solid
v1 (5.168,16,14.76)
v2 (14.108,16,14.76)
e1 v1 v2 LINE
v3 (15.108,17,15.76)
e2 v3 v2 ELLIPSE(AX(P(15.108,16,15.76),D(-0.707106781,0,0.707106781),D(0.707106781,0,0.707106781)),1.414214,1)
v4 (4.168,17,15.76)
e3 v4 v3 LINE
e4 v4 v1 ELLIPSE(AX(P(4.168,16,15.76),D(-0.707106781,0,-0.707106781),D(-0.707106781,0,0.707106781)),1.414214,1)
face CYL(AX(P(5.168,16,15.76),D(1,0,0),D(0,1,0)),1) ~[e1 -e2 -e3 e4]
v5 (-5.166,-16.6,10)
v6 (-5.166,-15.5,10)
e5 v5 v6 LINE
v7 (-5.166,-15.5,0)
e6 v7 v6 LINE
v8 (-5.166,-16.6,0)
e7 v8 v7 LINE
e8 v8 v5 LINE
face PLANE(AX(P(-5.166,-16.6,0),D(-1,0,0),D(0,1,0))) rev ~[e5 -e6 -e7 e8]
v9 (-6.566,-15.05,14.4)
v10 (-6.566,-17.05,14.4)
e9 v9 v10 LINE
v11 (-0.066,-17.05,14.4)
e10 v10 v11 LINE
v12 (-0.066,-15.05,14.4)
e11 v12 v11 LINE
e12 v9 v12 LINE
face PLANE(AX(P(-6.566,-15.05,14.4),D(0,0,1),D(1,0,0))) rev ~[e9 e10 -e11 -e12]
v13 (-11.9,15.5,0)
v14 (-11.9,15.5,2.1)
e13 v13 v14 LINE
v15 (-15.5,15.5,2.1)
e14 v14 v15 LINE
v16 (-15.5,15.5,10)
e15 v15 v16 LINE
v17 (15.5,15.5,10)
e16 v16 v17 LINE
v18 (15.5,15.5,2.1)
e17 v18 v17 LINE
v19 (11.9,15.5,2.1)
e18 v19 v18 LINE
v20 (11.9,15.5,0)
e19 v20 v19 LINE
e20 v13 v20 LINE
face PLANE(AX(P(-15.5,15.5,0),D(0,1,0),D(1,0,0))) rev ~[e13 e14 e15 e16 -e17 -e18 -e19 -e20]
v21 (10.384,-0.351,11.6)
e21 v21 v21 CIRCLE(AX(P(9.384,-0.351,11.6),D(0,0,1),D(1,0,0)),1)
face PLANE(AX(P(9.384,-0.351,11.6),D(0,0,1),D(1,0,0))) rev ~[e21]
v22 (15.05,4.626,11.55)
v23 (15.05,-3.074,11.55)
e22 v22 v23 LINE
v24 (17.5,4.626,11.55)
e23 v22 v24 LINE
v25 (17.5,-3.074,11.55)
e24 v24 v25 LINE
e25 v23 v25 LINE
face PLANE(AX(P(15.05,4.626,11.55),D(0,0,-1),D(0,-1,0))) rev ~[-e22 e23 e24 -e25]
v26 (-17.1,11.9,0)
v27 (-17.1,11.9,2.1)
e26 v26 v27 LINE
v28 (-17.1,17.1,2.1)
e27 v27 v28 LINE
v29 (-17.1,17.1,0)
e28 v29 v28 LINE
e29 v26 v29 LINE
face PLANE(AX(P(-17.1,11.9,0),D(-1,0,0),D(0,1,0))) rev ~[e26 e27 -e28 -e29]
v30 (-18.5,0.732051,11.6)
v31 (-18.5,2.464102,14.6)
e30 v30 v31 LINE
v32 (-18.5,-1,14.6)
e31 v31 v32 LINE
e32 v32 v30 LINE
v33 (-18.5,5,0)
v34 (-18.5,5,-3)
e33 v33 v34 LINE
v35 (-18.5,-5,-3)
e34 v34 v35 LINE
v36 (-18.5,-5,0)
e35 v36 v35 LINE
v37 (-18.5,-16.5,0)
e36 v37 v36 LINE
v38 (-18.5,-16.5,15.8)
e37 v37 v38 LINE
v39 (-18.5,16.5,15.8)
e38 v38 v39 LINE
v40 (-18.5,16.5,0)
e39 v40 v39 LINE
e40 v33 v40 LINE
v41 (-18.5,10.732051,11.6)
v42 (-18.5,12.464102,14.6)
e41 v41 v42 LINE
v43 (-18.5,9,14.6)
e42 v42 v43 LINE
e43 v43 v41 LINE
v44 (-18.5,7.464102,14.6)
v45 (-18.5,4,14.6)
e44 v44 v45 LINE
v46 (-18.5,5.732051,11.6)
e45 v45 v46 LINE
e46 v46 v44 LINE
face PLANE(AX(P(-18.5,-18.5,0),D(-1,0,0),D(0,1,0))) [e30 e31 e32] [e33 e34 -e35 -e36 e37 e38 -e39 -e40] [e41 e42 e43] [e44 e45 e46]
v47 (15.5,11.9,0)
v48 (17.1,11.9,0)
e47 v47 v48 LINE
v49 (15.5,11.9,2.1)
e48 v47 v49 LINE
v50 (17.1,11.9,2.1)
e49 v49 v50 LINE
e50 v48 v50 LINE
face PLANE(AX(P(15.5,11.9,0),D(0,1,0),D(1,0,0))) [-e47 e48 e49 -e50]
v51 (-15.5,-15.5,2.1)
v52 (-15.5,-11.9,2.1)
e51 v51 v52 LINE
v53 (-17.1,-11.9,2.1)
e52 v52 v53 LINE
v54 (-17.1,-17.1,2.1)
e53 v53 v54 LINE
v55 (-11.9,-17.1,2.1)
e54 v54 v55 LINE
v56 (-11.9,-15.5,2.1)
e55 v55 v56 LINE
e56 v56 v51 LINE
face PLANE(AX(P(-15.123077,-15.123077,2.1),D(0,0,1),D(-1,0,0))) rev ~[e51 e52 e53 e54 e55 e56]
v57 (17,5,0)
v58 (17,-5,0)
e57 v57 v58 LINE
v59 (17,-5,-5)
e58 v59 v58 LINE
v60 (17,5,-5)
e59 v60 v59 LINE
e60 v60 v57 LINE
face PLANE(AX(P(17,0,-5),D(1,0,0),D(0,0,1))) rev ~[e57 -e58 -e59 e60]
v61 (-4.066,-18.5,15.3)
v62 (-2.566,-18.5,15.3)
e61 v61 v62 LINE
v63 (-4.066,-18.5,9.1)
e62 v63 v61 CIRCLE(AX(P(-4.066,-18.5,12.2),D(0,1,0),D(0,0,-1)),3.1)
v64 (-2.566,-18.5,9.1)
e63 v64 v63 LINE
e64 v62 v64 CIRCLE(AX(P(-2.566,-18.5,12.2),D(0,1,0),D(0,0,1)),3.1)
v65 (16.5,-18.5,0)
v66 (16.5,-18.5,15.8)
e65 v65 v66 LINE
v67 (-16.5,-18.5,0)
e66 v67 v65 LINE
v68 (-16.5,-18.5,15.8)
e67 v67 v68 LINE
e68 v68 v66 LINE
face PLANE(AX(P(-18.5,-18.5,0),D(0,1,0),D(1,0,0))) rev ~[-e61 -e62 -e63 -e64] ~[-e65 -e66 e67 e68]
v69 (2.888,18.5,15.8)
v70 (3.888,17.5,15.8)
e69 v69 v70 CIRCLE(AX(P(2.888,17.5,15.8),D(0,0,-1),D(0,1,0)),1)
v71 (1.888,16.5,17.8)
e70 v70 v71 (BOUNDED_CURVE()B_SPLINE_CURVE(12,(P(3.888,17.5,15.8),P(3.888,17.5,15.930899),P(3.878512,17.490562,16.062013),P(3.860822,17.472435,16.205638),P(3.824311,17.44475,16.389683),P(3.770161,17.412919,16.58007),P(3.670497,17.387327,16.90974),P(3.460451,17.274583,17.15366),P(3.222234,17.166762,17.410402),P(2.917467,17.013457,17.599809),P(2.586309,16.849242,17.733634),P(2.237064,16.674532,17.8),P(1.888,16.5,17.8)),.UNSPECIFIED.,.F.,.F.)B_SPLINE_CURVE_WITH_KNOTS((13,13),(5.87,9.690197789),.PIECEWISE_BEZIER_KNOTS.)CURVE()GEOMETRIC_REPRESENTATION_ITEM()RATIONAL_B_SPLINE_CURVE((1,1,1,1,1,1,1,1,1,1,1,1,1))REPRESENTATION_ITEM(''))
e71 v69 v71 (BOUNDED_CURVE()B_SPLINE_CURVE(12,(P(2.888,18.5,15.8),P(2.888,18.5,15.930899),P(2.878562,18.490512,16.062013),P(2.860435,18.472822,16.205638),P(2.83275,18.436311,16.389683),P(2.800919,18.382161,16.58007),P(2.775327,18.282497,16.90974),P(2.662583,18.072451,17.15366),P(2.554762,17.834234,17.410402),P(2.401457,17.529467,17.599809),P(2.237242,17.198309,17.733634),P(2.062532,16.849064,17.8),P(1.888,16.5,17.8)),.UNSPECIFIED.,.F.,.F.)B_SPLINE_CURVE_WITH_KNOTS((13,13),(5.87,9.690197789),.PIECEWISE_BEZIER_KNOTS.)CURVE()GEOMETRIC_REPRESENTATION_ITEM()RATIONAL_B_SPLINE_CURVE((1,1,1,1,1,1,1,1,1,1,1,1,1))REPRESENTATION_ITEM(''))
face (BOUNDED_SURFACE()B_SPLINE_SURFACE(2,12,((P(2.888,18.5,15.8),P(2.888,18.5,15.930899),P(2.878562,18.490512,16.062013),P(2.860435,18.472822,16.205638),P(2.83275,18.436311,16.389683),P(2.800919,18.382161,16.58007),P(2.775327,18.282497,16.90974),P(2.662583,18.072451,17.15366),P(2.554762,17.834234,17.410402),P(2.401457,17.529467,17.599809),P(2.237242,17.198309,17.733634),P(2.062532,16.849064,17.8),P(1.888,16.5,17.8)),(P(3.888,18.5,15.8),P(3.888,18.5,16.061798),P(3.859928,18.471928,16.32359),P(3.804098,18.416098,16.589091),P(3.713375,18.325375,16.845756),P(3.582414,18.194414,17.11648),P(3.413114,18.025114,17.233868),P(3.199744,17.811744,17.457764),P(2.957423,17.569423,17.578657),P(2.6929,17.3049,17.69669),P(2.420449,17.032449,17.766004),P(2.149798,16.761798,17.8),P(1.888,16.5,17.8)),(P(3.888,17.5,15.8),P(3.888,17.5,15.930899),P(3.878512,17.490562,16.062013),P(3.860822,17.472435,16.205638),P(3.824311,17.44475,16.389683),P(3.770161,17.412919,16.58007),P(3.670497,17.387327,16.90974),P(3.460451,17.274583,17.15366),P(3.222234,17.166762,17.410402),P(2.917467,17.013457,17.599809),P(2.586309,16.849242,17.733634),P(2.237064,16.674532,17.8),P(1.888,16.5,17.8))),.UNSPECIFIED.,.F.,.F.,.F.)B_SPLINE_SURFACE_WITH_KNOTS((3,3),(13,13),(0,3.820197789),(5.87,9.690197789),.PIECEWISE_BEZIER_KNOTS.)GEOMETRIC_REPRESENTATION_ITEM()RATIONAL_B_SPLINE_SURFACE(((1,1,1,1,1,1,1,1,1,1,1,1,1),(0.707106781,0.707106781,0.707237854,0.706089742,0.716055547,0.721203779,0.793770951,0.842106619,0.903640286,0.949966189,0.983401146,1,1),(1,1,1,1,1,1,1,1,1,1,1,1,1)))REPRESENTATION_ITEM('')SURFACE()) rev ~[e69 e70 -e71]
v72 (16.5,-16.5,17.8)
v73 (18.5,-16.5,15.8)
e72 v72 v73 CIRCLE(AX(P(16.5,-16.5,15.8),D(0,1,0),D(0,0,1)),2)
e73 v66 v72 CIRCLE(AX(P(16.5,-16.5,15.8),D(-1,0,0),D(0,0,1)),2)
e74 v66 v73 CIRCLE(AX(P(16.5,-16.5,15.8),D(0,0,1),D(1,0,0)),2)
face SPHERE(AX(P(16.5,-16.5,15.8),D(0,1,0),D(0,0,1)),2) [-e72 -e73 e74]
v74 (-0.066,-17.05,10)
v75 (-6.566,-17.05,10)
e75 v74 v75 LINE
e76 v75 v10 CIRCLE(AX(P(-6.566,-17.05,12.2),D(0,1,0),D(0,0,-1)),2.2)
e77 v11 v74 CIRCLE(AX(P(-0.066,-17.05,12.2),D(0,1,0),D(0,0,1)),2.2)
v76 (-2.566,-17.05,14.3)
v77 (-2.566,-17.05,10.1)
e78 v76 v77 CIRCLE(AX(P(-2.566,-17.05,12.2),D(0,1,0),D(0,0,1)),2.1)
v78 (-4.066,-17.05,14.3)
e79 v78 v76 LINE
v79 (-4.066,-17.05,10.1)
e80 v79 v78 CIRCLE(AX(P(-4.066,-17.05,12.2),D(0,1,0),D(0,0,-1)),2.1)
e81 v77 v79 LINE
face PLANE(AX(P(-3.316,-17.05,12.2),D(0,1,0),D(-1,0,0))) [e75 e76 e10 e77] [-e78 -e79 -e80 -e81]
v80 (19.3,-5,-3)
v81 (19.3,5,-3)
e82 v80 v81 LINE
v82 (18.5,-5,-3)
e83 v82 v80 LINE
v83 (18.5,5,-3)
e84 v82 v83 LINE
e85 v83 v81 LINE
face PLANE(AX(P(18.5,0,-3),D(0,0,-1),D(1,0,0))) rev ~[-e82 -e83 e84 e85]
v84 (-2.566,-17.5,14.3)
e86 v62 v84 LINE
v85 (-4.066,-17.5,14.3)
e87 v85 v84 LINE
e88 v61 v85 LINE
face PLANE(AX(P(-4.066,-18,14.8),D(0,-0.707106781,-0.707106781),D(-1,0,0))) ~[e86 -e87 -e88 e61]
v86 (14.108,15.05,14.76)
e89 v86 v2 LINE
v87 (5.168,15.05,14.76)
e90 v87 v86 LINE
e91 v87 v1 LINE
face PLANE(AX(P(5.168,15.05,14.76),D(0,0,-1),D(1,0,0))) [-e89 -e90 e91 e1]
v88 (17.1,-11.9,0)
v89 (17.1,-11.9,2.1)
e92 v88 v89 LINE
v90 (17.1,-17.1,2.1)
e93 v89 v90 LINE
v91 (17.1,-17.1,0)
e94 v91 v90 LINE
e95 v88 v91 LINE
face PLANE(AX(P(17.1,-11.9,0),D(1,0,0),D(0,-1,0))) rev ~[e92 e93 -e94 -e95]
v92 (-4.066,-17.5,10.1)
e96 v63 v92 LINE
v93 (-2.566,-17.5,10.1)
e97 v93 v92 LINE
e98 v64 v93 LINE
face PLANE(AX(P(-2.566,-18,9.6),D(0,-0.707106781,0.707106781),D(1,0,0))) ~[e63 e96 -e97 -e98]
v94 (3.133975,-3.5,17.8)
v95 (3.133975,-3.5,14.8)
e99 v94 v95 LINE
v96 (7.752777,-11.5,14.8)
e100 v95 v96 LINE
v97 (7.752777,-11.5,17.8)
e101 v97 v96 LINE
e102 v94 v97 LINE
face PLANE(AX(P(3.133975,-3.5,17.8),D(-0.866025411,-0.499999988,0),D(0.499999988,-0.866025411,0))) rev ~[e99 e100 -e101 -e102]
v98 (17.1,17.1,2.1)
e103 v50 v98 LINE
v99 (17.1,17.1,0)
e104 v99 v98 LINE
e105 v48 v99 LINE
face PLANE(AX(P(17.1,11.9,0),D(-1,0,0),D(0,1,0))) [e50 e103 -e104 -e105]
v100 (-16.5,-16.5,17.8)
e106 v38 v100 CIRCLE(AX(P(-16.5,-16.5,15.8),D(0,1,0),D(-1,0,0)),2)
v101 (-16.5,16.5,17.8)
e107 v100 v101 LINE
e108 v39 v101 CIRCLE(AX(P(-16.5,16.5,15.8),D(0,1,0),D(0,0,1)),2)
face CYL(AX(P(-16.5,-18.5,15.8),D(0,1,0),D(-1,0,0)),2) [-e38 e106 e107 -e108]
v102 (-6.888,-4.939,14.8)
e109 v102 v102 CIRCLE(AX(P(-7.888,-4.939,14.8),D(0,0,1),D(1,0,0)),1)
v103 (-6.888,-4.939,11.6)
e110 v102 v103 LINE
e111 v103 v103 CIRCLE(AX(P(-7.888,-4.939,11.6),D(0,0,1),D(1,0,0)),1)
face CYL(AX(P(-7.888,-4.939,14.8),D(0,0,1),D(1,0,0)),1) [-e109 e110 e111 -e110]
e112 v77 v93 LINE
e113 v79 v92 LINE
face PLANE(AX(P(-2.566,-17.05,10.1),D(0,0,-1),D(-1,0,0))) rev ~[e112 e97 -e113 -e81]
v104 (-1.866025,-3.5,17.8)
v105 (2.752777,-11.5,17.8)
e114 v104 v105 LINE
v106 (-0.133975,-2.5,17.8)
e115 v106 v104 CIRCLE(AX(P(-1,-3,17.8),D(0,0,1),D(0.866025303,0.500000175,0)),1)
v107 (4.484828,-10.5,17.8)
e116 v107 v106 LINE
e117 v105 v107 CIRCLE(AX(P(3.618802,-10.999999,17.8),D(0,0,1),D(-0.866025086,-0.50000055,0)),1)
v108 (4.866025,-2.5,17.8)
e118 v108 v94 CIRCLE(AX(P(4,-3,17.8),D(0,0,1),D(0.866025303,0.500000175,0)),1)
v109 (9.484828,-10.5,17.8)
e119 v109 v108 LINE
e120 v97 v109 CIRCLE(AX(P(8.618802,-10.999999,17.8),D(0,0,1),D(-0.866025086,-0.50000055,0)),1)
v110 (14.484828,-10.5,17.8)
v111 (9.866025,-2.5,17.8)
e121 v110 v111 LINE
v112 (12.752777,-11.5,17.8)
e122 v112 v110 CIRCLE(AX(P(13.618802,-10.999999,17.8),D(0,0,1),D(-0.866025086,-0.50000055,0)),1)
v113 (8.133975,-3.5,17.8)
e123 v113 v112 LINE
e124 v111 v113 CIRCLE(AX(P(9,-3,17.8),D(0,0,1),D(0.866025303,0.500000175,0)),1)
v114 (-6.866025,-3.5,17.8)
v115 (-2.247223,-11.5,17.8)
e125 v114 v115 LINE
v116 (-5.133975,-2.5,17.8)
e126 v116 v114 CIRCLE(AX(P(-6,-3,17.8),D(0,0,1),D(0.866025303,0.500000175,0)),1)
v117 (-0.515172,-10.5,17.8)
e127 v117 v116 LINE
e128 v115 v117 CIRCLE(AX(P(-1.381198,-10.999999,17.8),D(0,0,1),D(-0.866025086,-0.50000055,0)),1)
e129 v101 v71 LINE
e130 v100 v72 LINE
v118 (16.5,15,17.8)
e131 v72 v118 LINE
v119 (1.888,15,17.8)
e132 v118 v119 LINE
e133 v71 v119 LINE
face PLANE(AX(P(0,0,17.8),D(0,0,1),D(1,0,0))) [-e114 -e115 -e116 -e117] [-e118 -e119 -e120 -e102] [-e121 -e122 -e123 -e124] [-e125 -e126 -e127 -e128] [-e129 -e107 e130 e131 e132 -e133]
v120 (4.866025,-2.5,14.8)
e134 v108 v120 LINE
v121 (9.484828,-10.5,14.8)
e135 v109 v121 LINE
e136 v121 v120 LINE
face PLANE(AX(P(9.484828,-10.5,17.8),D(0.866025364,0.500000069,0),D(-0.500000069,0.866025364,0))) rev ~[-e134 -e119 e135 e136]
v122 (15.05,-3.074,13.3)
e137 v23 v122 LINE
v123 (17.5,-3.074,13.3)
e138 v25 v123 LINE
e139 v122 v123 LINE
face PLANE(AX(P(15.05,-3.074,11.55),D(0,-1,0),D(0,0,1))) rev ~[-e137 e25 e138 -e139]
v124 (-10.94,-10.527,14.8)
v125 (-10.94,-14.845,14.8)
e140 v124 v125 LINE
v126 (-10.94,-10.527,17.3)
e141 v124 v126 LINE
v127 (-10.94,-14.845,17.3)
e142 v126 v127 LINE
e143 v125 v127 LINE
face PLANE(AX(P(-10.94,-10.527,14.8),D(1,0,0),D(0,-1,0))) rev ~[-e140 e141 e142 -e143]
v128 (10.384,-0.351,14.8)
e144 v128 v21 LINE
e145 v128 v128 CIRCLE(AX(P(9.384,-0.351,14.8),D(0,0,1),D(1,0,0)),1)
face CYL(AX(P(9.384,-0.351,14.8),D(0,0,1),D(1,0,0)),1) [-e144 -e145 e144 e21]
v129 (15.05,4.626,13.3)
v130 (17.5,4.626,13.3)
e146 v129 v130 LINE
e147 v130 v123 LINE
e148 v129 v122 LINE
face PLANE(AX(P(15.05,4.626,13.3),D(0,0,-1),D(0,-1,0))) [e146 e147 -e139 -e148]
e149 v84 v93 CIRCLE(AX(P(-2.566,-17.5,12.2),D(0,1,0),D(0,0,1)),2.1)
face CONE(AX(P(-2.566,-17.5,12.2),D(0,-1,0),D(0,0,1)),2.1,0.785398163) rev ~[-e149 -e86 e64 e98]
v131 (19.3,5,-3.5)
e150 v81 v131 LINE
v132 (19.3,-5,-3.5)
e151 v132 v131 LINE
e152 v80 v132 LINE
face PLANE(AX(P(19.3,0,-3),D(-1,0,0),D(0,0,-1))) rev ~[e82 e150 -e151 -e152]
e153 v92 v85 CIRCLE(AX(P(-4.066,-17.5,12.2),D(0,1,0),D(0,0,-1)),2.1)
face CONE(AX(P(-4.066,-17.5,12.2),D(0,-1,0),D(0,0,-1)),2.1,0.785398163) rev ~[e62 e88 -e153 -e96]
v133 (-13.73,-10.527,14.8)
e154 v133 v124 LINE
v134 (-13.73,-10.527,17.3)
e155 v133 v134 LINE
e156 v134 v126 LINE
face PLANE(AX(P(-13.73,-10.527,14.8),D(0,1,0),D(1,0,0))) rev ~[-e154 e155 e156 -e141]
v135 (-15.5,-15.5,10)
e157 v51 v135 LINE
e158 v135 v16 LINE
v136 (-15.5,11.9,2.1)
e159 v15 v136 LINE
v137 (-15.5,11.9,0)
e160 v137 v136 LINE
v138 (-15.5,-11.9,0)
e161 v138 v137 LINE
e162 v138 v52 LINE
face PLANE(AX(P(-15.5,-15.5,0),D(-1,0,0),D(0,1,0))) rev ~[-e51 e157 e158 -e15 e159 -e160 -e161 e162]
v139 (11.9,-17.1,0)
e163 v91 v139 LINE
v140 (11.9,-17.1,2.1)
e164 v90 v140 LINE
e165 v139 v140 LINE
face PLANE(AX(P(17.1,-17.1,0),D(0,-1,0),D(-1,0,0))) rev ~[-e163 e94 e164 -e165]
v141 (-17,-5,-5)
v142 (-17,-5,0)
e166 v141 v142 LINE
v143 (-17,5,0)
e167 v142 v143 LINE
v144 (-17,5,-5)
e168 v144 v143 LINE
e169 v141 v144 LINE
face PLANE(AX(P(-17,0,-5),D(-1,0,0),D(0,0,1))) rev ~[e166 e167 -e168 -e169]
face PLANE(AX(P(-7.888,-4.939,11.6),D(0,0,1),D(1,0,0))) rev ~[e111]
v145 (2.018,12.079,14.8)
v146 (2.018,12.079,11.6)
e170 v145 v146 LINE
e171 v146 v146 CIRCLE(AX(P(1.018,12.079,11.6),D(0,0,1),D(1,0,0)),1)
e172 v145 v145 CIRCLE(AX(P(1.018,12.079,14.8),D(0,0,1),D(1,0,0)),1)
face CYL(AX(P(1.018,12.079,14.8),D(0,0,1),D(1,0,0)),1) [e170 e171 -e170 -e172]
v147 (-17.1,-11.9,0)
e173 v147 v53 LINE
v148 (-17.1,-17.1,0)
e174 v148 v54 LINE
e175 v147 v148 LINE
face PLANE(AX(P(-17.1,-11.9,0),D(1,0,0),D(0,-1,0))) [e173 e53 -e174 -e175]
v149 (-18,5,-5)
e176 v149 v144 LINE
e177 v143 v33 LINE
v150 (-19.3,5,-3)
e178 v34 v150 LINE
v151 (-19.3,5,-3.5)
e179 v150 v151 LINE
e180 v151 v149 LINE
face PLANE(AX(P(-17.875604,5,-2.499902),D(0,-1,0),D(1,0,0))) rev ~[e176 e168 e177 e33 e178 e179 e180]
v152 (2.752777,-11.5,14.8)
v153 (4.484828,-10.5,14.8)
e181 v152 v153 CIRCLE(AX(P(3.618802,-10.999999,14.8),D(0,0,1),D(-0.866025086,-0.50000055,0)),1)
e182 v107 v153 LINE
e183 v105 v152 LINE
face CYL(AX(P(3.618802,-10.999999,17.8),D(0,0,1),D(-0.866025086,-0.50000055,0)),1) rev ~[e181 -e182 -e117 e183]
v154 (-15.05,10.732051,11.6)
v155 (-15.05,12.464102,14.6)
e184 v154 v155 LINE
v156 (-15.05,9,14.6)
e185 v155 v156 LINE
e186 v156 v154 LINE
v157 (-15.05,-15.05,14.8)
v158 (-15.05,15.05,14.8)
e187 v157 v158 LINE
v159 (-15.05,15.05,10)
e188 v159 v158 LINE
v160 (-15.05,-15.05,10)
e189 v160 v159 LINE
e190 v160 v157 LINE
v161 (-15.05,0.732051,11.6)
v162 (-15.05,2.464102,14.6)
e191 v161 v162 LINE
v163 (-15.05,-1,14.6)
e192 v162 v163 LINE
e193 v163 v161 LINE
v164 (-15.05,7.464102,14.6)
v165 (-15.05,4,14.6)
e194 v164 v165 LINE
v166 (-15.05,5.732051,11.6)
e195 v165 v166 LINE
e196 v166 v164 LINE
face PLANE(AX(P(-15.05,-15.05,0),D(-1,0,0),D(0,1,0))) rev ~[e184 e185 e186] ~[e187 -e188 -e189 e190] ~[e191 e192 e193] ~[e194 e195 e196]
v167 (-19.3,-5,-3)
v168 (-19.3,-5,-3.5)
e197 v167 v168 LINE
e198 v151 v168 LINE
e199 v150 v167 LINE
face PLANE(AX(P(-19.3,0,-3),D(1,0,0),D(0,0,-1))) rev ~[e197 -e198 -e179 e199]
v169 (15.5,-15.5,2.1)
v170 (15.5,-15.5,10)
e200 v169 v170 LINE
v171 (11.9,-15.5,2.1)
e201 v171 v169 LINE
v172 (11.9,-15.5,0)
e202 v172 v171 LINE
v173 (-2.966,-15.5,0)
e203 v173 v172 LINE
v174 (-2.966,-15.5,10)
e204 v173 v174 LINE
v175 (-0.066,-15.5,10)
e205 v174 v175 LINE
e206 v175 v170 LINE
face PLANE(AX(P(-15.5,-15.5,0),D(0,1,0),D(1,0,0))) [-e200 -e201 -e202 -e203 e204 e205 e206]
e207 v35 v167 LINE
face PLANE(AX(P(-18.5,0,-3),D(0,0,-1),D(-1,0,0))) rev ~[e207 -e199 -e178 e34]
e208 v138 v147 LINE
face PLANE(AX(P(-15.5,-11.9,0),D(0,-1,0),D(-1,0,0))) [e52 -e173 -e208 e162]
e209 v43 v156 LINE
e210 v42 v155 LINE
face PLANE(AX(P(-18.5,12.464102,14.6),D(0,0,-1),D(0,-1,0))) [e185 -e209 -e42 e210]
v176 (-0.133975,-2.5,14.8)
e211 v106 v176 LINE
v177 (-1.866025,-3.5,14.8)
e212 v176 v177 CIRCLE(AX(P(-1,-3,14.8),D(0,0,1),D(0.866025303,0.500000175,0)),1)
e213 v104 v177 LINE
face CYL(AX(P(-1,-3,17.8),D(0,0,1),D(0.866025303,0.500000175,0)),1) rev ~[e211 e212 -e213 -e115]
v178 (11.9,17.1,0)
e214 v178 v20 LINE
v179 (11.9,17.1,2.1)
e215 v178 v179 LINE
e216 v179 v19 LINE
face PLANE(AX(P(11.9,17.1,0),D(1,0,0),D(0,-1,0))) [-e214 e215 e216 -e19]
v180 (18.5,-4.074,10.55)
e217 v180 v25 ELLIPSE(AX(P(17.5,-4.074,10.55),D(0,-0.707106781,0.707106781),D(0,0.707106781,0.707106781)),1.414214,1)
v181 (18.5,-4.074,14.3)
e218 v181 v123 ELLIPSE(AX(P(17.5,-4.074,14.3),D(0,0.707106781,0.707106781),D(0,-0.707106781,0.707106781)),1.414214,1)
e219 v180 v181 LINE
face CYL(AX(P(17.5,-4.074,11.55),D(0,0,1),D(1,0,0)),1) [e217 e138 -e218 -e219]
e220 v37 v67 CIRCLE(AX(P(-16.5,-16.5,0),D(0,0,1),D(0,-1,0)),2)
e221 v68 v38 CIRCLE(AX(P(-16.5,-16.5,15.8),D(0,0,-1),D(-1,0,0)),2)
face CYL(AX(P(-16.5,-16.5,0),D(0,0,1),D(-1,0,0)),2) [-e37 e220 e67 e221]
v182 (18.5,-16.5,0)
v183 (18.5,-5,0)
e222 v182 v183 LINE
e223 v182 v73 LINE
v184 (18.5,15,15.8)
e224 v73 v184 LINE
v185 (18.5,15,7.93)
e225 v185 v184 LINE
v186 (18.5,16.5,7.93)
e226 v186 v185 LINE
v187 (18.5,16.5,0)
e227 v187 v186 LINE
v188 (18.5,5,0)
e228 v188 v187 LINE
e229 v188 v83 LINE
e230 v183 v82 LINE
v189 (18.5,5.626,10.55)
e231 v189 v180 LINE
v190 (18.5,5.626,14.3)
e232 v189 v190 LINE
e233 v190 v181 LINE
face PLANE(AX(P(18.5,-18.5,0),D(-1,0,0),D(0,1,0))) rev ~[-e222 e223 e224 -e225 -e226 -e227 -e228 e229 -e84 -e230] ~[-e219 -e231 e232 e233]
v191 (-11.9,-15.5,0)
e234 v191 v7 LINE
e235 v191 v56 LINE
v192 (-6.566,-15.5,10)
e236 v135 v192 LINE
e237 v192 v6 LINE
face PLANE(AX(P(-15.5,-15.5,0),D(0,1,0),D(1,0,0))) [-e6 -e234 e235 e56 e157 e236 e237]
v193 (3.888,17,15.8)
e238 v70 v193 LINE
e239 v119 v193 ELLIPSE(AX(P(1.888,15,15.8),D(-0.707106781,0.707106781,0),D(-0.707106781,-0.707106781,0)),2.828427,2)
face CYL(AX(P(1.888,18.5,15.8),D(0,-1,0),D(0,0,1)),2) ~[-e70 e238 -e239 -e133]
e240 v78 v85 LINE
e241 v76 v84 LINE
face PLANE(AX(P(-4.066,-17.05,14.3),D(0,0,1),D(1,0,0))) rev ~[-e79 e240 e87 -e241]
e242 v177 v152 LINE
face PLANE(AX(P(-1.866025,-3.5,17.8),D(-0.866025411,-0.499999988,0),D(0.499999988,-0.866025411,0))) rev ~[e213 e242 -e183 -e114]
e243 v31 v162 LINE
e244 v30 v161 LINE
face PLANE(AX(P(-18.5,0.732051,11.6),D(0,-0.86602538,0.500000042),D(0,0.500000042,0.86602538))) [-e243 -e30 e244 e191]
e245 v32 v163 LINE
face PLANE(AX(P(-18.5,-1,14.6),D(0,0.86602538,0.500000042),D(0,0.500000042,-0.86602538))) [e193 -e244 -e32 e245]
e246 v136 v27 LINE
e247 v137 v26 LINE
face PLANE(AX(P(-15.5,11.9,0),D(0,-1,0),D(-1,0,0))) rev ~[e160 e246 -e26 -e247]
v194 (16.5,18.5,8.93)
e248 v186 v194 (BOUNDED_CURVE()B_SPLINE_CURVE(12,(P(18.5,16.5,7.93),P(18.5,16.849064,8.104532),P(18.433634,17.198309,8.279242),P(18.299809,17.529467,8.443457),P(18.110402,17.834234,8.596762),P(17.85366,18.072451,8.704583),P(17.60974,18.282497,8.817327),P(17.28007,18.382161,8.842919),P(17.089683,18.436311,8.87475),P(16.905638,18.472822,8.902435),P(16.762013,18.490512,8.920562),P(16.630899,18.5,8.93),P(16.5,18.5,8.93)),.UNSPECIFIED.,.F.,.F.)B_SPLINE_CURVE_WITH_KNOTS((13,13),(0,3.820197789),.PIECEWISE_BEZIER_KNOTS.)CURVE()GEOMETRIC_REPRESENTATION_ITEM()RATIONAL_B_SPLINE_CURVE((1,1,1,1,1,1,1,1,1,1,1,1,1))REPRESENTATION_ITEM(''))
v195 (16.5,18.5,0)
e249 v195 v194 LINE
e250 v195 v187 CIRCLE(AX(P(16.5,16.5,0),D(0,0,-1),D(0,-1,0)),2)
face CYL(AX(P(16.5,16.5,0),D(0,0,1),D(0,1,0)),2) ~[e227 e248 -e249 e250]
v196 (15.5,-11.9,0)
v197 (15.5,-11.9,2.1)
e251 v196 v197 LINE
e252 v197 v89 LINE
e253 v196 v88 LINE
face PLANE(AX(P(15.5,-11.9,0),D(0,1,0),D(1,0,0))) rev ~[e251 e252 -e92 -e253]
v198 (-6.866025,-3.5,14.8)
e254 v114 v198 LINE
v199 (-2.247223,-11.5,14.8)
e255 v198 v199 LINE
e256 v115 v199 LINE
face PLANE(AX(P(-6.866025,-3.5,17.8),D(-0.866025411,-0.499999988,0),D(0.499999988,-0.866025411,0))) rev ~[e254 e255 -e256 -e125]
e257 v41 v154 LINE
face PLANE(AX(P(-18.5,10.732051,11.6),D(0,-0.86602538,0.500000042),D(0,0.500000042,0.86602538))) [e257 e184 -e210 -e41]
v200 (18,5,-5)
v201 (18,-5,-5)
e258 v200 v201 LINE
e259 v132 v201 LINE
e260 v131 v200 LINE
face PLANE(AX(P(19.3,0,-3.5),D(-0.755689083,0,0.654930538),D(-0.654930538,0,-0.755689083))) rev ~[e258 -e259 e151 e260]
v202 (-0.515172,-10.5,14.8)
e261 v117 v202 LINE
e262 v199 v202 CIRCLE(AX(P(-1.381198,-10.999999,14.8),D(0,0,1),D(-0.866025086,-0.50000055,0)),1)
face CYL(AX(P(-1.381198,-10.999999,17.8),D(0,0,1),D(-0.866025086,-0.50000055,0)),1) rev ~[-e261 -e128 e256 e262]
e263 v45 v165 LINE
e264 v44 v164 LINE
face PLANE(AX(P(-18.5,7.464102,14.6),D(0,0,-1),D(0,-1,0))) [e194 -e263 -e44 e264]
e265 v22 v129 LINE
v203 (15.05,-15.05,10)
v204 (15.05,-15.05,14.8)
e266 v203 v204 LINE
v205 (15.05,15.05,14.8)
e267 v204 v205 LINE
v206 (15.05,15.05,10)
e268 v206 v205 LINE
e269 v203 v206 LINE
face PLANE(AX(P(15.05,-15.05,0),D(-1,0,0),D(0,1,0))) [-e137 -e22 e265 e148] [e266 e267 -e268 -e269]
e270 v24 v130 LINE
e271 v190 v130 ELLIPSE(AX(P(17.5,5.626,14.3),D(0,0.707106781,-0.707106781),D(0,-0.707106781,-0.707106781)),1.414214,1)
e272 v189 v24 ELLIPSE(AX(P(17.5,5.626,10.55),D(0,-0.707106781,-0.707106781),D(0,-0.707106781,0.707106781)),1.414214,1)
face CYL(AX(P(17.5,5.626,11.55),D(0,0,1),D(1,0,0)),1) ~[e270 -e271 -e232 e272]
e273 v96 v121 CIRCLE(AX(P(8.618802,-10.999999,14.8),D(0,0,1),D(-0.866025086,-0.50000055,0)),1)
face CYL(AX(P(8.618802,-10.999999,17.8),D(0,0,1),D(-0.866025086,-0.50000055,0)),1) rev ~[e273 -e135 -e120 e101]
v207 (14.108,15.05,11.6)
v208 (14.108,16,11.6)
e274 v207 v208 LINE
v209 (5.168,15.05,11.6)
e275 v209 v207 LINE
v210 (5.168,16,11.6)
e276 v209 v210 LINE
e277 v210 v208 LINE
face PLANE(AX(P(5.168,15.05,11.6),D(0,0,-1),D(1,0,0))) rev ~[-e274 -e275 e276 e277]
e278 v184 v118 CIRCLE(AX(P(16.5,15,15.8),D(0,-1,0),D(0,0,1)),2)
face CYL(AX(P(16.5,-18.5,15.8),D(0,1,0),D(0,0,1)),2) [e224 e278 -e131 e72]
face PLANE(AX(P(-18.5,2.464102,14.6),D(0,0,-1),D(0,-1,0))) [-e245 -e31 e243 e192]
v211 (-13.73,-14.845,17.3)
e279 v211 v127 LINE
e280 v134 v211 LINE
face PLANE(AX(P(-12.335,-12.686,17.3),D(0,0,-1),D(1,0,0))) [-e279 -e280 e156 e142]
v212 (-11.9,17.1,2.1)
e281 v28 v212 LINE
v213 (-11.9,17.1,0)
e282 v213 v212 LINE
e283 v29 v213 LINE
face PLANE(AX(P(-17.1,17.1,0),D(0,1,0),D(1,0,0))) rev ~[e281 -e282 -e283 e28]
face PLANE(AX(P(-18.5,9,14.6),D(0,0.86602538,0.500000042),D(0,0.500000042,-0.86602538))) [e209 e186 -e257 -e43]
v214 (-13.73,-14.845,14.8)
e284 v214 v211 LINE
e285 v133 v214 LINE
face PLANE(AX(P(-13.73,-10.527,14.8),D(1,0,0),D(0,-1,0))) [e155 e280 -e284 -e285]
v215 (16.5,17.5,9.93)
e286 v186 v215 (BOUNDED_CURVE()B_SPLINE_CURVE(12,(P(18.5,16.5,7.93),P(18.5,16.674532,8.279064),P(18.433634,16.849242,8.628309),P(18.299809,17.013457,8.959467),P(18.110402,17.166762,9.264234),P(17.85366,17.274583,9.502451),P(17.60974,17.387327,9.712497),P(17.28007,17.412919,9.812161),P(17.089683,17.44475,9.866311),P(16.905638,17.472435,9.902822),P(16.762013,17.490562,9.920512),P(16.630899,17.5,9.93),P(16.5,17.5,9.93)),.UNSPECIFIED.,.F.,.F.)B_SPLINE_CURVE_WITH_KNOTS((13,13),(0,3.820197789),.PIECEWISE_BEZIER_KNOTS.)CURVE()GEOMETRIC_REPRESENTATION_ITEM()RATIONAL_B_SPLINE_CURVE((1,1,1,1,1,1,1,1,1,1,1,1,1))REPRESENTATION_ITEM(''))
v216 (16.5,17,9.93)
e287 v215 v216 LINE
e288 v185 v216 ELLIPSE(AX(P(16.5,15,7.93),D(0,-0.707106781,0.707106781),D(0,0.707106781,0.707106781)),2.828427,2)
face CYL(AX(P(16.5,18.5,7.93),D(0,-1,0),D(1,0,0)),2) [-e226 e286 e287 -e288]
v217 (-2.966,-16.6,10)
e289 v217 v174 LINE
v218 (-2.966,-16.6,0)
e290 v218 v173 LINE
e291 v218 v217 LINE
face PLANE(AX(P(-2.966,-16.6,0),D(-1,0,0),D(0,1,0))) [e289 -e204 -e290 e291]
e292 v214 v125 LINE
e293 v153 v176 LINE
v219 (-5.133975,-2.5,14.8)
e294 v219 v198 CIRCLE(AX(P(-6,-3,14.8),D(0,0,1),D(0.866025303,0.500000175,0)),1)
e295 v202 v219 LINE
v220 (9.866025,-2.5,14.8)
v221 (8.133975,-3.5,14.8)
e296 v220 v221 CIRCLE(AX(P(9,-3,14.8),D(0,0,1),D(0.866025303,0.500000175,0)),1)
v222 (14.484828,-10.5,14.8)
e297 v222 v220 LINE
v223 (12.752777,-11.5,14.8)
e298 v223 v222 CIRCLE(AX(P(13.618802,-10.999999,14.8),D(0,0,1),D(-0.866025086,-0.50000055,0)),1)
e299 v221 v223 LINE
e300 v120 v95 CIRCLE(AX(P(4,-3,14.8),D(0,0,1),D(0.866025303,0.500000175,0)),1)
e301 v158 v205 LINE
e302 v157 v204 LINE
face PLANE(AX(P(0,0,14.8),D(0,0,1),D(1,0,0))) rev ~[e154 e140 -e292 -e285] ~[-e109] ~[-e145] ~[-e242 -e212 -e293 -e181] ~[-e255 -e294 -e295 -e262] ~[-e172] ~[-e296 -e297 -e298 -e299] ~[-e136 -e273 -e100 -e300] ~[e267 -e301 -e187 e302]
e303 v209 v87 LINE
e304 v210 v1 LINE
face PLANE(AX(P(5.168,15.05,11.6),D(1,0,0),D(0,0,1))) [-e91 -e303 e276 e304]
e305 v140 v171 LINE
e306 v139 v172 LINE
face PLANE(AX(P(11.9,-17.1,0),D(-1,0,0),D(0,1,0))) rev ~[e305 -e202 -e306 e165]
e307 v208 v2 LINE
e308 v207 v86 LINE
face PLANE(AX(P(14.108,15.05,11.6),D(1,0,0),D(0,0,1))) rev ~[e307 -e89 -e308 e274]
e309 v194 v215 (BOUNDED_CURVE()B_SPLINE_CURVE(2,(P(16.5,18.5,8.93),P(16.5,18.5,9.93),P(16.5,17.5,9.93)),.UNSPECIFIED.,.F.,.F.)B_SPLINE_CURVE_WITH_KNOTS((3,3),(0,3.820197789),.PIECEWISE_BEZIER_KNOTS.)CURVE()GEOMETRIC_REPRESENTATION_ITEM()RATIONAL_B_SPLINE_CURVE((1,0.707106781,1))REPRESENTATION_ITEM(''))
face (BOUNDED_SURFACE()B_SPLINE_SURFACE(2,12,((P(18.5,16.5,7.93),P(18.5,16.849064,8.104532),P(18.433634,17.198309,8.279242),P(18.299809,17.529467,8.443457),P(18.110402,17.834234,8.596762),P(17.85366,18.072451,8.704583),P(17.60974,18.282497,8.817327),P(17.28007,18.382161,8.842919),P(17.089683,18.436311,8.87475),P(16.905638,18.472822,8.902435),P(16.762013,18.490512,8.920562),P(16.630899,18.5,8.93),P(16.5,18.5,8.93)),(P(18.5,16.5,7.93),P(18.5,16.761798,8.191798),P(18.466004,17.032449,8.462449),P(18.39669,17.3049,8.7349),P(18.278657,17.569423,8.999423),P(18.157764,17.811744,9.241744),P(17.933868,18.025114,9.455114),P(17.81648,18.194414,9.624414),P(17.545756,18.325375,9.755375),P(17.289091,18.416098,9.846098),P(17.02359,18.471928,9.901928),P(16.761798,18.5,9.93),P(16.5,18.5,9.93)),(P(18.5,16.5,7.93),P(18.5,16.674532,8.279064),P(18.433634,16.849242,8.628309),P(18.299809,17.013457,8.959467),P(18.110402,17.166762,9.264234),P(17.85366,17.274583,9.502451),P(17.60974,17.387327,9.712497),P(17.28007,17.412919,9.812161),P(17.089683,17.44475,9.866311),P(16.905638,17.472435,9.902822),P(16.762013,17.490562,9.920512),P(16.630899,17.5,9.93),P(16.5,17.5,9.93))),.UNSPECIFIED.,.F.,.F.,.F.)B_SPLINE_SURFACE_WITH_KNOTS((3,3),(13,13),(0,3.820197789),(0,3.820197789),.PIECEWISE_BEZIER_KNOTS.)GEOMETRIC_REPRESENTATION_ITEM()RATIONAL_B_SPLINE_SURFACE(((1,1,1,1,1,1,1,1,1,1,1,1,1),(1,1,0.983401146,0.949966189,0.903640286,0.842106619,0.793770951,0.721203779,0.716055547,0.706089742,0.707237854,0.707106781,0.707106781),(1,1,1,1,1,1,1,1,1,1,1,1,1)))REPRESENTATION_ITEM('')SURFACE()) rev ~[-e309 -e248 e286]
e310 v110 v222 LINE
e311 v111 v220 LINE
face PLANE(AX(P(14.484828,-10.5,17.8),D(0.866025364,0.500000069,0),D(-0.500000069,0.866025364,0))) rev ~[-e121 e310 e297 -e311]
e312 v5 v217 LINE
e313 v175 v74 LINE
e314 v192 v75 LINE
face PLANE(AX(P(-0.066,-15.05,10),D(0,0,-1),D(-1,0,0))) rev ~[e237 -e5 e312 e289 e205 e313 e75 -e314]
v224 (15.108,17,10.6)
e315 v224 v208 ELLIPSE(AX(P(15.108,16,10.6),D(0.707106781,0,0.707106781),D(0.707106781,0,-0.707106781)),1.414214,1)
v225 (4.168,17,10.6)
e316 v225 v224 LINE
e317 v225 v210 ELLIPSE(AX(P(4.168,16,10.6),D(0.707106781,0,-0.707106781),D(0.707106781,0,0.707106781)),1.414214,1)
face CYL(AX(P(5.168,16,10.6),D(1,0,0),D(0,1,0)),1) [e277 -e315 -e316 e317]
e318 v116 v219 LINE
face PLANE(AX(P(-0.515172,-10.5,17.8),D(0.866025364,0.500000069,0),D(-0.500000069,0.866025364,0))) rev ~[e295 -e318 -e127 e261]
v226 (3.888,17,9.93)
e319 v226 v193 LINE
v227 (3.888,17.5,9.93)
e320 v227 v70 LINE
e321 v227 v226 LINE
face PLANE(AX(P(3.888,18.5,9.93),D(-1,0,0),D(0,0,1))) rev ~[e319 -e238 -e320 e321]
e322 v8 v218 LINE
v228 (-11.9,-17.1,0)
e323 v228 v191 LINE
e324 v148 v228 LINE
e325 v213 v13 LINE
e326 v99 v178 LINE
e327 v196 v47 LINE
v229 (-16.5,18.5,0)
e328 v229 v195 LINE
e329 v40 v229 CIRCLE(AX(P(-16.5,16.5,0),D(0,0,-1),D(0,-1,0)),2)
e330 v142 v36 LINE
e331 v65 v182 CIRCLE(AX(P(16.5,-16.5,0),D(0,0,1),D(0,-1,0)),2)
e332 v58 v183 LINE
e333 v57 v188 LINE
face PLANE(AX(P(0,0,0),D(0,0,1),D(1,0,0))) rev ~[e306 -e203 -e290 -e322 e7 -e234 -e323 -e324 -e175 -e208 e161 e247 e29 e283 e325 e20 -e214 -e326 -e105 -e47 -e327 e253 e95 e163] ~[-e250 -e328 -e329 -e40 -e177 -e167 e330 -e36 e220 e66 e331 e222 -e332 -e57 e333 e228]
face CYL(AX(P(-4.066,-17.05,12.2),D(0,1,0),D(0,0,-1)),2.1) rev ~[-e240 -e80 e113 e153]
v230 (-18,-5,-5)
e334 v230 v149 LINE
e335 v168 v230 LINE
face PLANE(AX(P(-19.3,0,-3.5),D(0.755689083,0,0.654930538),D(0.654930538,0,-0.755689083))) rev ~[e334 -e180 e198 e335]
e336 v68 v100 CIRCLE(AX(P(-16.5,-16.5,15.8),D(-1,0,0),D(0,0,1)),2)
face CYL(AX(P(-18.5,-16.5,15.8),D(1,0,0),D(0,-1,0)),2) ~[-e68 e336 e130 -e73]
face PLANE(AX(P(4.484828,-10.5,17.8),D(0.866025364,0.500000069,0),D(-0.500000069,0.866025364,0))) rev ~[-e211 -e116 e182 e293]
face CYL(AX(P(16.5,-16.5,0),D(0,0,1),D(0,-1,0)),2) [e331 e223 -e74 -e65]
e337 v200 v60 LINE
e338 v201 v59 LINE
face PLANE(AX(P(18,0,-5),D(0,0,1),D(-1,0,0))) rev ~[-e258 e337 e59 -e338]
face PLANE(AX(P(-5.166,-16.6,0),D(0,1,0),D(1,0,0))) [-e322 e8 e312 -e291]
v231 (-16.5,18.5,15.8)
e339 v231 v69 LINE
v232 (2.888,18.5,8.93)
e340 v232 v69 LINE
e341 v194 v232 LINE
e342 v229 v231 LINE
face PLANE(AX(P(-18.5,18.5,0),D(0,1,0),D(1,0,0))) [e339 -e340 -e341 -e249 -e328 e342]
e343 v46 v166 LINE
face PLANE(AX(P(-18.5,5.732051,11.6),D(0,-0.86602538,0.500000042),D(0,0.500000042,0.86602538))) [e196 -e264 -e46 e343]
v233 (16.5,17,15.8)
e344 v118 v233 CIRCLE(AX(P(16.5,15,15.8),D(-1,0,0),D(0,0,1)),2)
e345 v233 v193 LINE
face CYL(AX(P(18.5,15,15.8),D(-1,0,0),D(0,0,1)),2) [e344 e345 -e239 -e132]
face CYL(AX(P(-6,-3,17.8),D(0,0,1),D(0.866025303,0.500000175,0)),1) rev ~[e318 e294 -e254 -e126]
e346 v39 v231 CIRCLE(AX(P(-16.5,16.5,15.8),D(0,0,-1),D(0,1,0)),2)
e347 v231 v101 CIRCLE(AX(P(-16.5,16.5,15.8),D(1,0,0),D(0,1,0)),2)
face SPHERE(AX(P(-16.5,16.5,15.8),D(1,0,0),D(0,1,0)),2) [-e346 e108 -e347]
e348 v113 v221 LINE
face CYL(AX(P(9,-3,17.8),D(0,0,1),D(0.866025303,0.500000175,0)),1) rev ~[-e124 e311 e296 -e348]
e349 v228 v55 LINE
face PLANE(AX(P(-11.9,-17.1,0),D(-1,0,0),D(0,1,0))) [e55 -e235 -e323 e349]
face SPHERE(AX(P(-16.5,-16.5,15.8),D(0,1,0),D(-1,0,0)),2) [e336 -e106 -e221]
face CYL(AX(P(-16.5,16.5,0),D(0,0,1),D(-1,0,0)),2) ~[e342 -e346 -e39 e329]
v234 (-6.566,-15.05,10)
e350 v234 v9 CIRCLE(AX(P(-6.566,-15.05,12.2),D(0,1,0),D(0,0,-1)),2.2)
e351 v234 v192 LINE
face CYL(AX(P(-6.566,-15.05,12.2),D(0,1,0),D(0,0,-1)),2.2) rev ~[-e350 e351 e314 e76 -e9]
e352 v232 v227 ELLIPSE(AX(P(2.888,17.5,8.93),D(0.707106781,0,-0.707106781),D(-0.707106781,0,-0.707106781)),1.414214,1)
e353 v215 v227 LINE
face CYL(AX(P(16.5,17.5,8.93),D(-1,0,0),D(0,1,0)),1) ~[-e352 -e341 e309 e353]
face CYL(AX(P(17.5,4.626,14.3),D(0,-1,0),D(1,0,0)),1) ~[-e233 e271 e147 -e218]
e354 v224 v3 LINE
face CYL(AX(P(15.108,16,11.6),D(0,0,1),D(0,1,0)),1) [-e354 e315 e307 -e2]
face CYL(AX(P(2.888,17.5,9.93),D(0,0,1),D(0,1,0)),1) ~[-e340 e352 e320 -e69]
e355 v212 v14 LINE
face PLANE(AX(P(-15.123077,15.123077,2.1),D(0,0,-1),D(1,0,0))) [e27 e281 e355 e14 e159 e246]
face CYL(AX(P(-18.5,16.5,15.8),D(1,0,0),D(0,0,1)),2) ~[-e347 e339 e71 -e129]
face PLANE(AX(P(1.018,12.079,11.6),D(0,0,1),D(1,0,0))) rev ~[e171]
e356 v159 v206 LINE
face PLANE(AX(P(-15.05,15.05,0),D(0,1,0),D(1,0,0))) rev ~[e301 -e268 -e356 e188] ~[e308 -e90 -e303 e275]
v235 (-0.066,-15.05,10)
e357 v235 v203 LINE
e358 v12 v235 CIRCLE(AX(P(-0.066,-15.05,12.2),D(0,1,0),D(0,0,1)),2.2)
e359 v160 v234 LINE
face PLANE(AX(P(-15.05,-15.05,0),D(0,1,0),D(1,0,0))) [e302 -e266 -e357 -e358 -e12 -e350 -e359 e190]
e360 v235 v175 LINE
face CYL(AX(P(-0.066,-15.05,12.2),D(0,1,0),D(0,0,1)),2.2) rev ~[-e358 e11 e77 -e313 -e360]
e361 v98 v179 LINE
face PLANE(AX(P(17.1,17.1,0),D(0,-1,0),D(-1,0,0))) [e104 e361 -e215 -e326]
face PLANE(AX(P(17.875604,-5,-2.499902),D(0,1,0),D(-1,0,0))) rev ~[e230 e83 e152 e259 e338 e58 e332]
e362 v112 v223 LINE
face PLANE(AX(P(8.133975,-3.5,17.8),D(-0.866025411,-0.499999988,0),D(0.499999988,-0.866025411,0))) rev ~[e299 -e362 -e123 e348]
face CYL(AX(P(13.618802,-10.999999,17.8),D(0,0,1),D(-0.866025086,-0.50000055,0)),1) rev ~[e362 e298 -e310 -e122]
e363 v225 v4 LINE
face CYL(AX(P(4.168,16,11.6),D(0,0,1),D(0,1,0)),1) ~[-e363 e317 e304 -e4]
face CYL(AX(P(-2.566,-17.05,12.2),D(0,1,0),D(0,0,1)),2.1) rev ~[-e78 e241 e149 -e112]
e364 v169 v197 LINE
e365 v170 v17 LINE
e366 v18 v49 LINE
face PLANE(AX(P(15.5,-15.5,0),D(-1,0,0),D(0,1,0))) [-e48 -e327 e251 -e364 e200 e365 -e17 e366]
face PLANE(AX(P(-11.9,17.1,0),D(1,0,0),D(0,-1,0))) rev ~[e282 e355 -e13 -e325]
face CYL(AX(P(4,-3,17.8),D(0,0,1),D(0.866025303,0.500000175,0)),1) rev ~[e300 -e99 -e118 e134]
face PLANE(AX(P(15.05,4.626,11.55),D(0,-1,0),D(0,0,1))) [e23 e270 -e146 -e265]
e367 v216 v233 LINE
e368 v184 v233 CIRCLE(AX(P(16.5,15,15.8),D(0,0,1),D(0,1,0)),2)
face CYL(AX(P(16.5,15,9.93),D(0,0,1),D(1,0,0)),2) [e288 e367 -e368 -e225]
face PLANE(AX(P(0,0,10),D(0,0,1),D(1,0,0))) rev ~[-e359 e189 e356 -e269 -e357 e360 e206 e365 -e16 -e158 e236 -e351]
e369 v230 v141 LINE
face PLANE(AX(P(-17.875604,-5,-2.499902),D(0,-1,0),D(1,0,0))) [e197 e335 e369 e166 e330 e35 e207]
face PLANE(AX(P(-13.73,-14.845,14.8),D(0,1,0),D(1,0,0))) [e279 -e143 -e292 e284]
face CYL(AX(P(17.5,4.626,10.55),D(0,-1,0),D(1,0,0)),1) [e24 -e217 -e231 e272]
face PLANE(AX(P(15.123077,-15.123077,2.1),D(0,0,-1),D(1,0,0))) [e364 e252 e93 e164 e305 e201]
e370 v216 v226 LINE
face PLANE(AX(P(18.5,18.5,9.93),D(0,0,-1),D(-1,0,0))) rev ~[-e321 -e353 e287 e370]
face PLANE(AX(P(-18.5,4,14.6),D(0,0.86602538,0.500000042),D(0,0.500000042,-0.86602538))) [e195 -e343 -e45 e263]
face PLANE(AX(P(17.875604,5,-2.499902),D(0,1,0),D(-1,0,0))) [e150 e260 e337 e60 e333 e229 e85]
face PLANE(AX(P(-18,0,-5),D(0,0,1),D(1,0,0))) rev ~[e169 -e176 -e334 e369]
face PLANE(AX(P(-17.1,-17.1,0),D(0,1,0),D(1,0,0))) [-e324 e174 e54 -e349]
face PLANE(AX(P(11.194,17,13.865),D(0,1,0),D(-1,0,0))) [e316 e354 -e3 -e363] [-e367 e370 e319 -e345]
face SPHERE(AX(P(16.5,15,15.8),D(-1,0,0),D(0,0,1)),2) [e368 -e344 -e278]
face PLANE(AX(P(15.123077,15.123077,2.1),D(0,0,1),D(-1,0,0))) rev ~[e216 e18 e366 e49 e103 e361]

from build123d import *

# Parameters (mm, degrees)
SKETCH_W        = 37
SKETCH_H        = 37
PAD_DEPTH       = 17.8
SKETCH001_W     = 30.1
SKETCH001_H     = 30.1
POCKET_DEPTH    = 14.8
SKETCH002_R     = 1
PAD001_DEPTH    = 3.2
SKETCH003_W     = 31
SKETCH003_H     = 31
POCKET001_DEPTH = 10
SKETCH004_W     = 2.2
SKETCH004_H     = 1.6
POCKET002_DEPTH = 10
POCKET003_DEPTH = 2
POCKET004_DEPTH = 1.5
SKETCH011_W     = 8.94
SKETCH011_H     = 3.16
POCKET007_DEPTH = 3.5
SKETCH012_W     = 14.612
SKETCH012_H     = 7.87
POCKET008_DEPTH = 1.5
SKETCH013_W     = 7.7
SKETCH013_H     = 1.75
POCKET009_DEPTH = 3.5
PAD005_DEPTH    = 5
POCKET014_DEPTH = 2.1
SKETCH021_W     = 2.79
SKETCH021_H     = 4.318
POCKET013_DEPTH = 2.5
POCKET011_DEPTH = 3
POCKET012_DEPTH = 3.5
FILLET006_R     = 2
CHAMFER_SIZE    = 1
FILLET007_R     = 1
FILLET008_R     = 1


with BuildPart() as part:
    # Sketch → Pad (new body)
    with BuildSketch(Plane.XY):
        Rectangle(SKETCH_W, SKETCH_H)
    extrude(amount=PAD_DEPTH)

    # Sketch001 → Pocket (cut)
    with BuildSketch(Plane.XY):
        Rectangle(SKETCH001_W, SKETCH001_H)
    extrude(amount=POCKET_DEPTH, mode=Mode.SUBTRACT)

    # Sketch002 (on Face11 of Pocket) → Pad001 (join)
    with BuildSketch(Plane.XY.offset(14.8)):
        with Locations((1.018, 12.079)):
            Circle(SKETCH002_R)
        with Locations((9.384, -0.351)):
            Circle(SKETCH002_R)
        with Locations((-7.888, -4.939)):
            Circle(SKETCH002_R)
    extrude(amount=-PAD001_DEPTH)

    # Sketch003 → Pocket001 (cut)
    with BuildSketch(Plane.XY):
        Rectangle(SKETCH003_W, SKETCH003_H)
    extrude(amount=POCKET001_DEPTH, mode=Mode.SUBTRACT)

    # Sketch004 → Pocket002 (cut)
    with BuildSketch(Plane.XY):
        with Locations((-4.066, -15.8)):
            Rectangle(SKETCH004_W, SKETCH004_H)
    extrude(amount=POCKET002_DEPTH, mode=Mode.SUBTRACT)

    # Sketch005 (on Face16 of Pocket002) → Pocket003 (cut)
    with BuildSketch(Plane(origin=(0, -15.05, 0), x_dir=(-1, 0, 0), z_dir=(0, 1, 0))):
        with BuildLine():
            ThreePointArc((0.066, 14.4), (-2.134, 12.2), (0.066, 10))
            Line((0.066, 10), (6.566, 10))
            ThreePointArc((6.566, 10), (8.766, 12.2), (6.566, 14.4))
            Line((6.566, 14.4), (0.066, 14.4))
        make_face()
    extrude(amount=-POCKET003_DEPTH, mode=Mode.SUBTRACT)

    # Sketch006 (on Face18 of Pocket003) → Pocket004 (cut)
    with BuildSketch(Plane(origin=(0, -17.05, 0), x_dir=(-1, 0, 0), z_dir=(0, 1, 0))):
        with BuildLine():
            ThreePointArc((2.566, 14.3), (0.466, 12.2), (2.566, 10.1))
            Line((2.566, 10.1), (4.066, 10.1))
            ThreePointArc((4.066, 10.1), (6.166, 12.2), (4.066, 14.3))
            Line((4.066, 14.3), (2.566, 14.3))
        make_face()
    extrude(amount=-POCKET004_DEPTH, mode=Mode.SUBTRACT)

    # Sketch011 (on Face26 of Pocket004) → Pocket007 (cut)
    with BuildSketch(Plane.XZ.offset(-15.05)):
        with Locations((9.638, 13.18)):
            Rectangle(SKETCH011_W, SKETCH011_H)
    extrude(amount=-POCKET007_DEPTH, mode=Mode.SUBTRACT)

    # Sketch012 (on Face1 of Pocket007) → Pocket008 (cut)
    with BuildSketch(Plane(origin=(0, 18.5, 0), x_dir=(-1, 0, 0), z_dir=(0, 1, 0))):
        with Locations((-11.194, 13.865)):
            Rectangle(SKETCH012_W, SKETCH012_H)
    extrude(amount=-POCKET008_DEPTH, mode=Mode.SUBTRACT)

    # Sketch013 (on Face34 of Pocket008) → Pocket009 (cut)
    with BuildSketch(Plane(origin=(15.05, 0, 0), x_dir=(0, -1, 0), z_dir=(-1, 0, 0))):
        with Locations((-0.776, 12.425)):
            Rectangle(SKETCH013_W, SKETCH013_H)
    extrude(amount=-POCKET009_DEPTH, mode=Mode.SUBTRACT)

    # Sketch015 → Pad005 (join, symmetric)
    with BuildSketch(Plane.XZ):
        Polygon((-17, 0), (-18.5, 0), (-18.5, -3), (-19.3, -3), (-19.3, -3.5), (-18, -5), (-17, -5), align=None)
        Polygon((17, 0), (18.5, 0), (18.5, -3), (19.3, -3), (19.3, -3.5), (18, -5), (17, -5), align=None)
    extrude(amount=PAD005_DEPTH, both=True)

    # Sketch022 (on Face2 of Pad005) → Pocket014 (cut)
    with BuildSketch(Plane(origin=(0, 0, 0), x_dir=(1, 0, 0), z_dir=(0, 0, -1))):
        Polygon((-17.1, 17.1), (-11.9, 17.1), (-11.9, 15.5), (-15.5, 15.5), (-15.5, 11.9), (-17.1, 11.9), align=None)
        Polygon((17.1, 17.1), (11.9, 17.1), (11.9, 15.5), (15.5, 15.5), (15.5, 11.9), (17.1, 11.9), align=None)
        Polygon((-17.1, -17.1), (-11.9, -17.1), (-11.9, -15.5), (-15.5, -15.5), (-15.5, -11.9), (-17.1, -11.9), align=None)
        Polygon((17.1, -17.1), (11.9, -17.1), (11.9, -15.5), (15.5, -15.5), (15.5, -11.9), (17.1, -11.9), align=None)
    extrude(amount=-POCKET014_DEPTH, mode=Mode.SUBTRACT)

    # Sketch021 (on Face51 of Pad005) → Pocket013 (cut)
    with BuildSketch(Plane(origin=(0, 0, 14.8), x_dir=(1, 0, 0), z_dir=(0, 0, -1))):
        with Locations((-12.335, 12.686)):
            Rectangle(SKETCH021_W, SKETCH021_H)
    extrude(amount=-POCKET013_DEPTH, mode=Mode.SUBTRACT)

    # Sketch019 (on Face6 of Pocket013) → Pocket011 (cut)
    with BuildSketch(Plane.XY.offset(17.8)):
        with BuildLine():
            ThreePointArc((-5.133975, -2.5), (-6.5, -2.133975), (-6.866025, -3.5))
            Line((-6.866025, -3.5), (-2.247223, -11.5))
            ThreePointArc((-2.247223, -11.5), (-0.881198, -11.866025), (-0.515172, -10.5))
            Line((-0.515172, -10.5), (-5.133975, -2.5))
        make_face()
        with BuildLine():
            ThreePointArc((-0.133975, -2.5), (-1.5, -2.133975), (-1.866025, -3.5))
            Line((-1.866025, -3.5), (2.752777, -11.5))
            ThreePointArc((2.752777, -11.5), (4.118802, -11.866025), (4.484828, -10.5))
            Line((4.484828, -10.5), (-0.133975, -2.5))
        make_face()
        with BuildLine():
            ThreePointArc((4.866025, -2.5), (3.5, -2.133975), (3.133975, -3.5))
            Line((3.133975, -3.5), (7.752777, -11.5))
            ThreePointArc((7.752777, -11.5), (9.118802, -11.866025), (9.484828, -10.5))
            Line((9.484828, -10.5), (4.866025, -2.5))
        make_face()
        with BuildLine():
            ThreePointArc((9.866025, -2.5), (8.5, -2.133975), (8.133975, -3.5))
            Line((8.133975, -3.5), (12.752777, -11.5))
            ThreePointArc((12.752777, -11.5), (14.118802, -11.866025), (14.484828, -10.5))
            Line((14.484828, -10.5), (9.866025, -2.5))
        make_face()
    extrude(amount=-POCKET011_DEPTH, mode=Mode.SUBTRACT)

    # Sketch020 (on Face7 of Pocket011) → Pocket012 (cut)
    with BuildSketch(Plane(origin=(-18.5, 0, 0), x_dir=(0, -1, 0), z_dir=(-1, 0, 0))):
        Polygon((-2.464102, 14.6), (1, 14.6), (-0.732051, 11.6), align=None)
        Polygon((-7.464102, 14.6), (-4, 14.6), (-5.732051, 11.6), align=None)
        Polygon((-12.464102, 14.6), (-9, 14.6), (-10.732051, 11.6), align=None)
    extrude(amount=-POCKET012_DEPTH, mode=Mode.SUBTRACT)

    # Fillet006
    fillet006_edges = [part.edges().sort_by_distance(p)[0] for p in [
        (11.194, 17, 17.8),
        (3.888, 17.75, 17.8),
        (-7.306, 18.5, 17.8),
        (18.5, -0.75, 17.8),
        (18.5, 17, 13.865),
        (18.5, 17.75, 9.93),
        (18.5, 18.5, 4.965),
        (-18.5, 18.5, 8.9),
        (-18.5, 0, 17.8),
        (-18.5, -18.5, 8.9),
        (0, -18.5, 17.8),
        (18.5, -18.5, 8.9),
    ]]
    fillet(fillet006_edges, radius=FILLET006_R)

    # Chamfer
    chamfer_edges = [part.edges().sort_by_distance(p)[0] for p in [
        (-3.316, -18.5, 14.3),
    ]]
    chamfer(chamfer_edges, length=CHAMFER_SIZE)

    # Fillet007
    fillet007_edges = [part.edges().sort_by_distance(p)[0] for p in [
        (10.194, 18.5, 9.93),
        (3.888, 18.5, 12.865),
        (5.168, 17, 13.18),
        (9.638, 17, 11.6),
        (14.108, 17, 13.18),
        (9.638, 17, 14.76),
        (3.180098, 17.792098, 17.326592),
        (18.026592, 17.792098, 9.222098),
    ]]
    fillet(fillet007_edges, radius=FILLET007_R)

    # Fillet008
    fillet008_edges = [part.edges().sort_by_distance(p)[0] for p in [
        (18.5, 0.776, 13.3),
        (18.5, -3.074, 12.425),
        (18.5, 0.776, 11.55),
        (18.5, 4.626, 12.425),
    ]]
    fillet(fillet008_edges, radius=FILLET008_R)


solid = part.part
